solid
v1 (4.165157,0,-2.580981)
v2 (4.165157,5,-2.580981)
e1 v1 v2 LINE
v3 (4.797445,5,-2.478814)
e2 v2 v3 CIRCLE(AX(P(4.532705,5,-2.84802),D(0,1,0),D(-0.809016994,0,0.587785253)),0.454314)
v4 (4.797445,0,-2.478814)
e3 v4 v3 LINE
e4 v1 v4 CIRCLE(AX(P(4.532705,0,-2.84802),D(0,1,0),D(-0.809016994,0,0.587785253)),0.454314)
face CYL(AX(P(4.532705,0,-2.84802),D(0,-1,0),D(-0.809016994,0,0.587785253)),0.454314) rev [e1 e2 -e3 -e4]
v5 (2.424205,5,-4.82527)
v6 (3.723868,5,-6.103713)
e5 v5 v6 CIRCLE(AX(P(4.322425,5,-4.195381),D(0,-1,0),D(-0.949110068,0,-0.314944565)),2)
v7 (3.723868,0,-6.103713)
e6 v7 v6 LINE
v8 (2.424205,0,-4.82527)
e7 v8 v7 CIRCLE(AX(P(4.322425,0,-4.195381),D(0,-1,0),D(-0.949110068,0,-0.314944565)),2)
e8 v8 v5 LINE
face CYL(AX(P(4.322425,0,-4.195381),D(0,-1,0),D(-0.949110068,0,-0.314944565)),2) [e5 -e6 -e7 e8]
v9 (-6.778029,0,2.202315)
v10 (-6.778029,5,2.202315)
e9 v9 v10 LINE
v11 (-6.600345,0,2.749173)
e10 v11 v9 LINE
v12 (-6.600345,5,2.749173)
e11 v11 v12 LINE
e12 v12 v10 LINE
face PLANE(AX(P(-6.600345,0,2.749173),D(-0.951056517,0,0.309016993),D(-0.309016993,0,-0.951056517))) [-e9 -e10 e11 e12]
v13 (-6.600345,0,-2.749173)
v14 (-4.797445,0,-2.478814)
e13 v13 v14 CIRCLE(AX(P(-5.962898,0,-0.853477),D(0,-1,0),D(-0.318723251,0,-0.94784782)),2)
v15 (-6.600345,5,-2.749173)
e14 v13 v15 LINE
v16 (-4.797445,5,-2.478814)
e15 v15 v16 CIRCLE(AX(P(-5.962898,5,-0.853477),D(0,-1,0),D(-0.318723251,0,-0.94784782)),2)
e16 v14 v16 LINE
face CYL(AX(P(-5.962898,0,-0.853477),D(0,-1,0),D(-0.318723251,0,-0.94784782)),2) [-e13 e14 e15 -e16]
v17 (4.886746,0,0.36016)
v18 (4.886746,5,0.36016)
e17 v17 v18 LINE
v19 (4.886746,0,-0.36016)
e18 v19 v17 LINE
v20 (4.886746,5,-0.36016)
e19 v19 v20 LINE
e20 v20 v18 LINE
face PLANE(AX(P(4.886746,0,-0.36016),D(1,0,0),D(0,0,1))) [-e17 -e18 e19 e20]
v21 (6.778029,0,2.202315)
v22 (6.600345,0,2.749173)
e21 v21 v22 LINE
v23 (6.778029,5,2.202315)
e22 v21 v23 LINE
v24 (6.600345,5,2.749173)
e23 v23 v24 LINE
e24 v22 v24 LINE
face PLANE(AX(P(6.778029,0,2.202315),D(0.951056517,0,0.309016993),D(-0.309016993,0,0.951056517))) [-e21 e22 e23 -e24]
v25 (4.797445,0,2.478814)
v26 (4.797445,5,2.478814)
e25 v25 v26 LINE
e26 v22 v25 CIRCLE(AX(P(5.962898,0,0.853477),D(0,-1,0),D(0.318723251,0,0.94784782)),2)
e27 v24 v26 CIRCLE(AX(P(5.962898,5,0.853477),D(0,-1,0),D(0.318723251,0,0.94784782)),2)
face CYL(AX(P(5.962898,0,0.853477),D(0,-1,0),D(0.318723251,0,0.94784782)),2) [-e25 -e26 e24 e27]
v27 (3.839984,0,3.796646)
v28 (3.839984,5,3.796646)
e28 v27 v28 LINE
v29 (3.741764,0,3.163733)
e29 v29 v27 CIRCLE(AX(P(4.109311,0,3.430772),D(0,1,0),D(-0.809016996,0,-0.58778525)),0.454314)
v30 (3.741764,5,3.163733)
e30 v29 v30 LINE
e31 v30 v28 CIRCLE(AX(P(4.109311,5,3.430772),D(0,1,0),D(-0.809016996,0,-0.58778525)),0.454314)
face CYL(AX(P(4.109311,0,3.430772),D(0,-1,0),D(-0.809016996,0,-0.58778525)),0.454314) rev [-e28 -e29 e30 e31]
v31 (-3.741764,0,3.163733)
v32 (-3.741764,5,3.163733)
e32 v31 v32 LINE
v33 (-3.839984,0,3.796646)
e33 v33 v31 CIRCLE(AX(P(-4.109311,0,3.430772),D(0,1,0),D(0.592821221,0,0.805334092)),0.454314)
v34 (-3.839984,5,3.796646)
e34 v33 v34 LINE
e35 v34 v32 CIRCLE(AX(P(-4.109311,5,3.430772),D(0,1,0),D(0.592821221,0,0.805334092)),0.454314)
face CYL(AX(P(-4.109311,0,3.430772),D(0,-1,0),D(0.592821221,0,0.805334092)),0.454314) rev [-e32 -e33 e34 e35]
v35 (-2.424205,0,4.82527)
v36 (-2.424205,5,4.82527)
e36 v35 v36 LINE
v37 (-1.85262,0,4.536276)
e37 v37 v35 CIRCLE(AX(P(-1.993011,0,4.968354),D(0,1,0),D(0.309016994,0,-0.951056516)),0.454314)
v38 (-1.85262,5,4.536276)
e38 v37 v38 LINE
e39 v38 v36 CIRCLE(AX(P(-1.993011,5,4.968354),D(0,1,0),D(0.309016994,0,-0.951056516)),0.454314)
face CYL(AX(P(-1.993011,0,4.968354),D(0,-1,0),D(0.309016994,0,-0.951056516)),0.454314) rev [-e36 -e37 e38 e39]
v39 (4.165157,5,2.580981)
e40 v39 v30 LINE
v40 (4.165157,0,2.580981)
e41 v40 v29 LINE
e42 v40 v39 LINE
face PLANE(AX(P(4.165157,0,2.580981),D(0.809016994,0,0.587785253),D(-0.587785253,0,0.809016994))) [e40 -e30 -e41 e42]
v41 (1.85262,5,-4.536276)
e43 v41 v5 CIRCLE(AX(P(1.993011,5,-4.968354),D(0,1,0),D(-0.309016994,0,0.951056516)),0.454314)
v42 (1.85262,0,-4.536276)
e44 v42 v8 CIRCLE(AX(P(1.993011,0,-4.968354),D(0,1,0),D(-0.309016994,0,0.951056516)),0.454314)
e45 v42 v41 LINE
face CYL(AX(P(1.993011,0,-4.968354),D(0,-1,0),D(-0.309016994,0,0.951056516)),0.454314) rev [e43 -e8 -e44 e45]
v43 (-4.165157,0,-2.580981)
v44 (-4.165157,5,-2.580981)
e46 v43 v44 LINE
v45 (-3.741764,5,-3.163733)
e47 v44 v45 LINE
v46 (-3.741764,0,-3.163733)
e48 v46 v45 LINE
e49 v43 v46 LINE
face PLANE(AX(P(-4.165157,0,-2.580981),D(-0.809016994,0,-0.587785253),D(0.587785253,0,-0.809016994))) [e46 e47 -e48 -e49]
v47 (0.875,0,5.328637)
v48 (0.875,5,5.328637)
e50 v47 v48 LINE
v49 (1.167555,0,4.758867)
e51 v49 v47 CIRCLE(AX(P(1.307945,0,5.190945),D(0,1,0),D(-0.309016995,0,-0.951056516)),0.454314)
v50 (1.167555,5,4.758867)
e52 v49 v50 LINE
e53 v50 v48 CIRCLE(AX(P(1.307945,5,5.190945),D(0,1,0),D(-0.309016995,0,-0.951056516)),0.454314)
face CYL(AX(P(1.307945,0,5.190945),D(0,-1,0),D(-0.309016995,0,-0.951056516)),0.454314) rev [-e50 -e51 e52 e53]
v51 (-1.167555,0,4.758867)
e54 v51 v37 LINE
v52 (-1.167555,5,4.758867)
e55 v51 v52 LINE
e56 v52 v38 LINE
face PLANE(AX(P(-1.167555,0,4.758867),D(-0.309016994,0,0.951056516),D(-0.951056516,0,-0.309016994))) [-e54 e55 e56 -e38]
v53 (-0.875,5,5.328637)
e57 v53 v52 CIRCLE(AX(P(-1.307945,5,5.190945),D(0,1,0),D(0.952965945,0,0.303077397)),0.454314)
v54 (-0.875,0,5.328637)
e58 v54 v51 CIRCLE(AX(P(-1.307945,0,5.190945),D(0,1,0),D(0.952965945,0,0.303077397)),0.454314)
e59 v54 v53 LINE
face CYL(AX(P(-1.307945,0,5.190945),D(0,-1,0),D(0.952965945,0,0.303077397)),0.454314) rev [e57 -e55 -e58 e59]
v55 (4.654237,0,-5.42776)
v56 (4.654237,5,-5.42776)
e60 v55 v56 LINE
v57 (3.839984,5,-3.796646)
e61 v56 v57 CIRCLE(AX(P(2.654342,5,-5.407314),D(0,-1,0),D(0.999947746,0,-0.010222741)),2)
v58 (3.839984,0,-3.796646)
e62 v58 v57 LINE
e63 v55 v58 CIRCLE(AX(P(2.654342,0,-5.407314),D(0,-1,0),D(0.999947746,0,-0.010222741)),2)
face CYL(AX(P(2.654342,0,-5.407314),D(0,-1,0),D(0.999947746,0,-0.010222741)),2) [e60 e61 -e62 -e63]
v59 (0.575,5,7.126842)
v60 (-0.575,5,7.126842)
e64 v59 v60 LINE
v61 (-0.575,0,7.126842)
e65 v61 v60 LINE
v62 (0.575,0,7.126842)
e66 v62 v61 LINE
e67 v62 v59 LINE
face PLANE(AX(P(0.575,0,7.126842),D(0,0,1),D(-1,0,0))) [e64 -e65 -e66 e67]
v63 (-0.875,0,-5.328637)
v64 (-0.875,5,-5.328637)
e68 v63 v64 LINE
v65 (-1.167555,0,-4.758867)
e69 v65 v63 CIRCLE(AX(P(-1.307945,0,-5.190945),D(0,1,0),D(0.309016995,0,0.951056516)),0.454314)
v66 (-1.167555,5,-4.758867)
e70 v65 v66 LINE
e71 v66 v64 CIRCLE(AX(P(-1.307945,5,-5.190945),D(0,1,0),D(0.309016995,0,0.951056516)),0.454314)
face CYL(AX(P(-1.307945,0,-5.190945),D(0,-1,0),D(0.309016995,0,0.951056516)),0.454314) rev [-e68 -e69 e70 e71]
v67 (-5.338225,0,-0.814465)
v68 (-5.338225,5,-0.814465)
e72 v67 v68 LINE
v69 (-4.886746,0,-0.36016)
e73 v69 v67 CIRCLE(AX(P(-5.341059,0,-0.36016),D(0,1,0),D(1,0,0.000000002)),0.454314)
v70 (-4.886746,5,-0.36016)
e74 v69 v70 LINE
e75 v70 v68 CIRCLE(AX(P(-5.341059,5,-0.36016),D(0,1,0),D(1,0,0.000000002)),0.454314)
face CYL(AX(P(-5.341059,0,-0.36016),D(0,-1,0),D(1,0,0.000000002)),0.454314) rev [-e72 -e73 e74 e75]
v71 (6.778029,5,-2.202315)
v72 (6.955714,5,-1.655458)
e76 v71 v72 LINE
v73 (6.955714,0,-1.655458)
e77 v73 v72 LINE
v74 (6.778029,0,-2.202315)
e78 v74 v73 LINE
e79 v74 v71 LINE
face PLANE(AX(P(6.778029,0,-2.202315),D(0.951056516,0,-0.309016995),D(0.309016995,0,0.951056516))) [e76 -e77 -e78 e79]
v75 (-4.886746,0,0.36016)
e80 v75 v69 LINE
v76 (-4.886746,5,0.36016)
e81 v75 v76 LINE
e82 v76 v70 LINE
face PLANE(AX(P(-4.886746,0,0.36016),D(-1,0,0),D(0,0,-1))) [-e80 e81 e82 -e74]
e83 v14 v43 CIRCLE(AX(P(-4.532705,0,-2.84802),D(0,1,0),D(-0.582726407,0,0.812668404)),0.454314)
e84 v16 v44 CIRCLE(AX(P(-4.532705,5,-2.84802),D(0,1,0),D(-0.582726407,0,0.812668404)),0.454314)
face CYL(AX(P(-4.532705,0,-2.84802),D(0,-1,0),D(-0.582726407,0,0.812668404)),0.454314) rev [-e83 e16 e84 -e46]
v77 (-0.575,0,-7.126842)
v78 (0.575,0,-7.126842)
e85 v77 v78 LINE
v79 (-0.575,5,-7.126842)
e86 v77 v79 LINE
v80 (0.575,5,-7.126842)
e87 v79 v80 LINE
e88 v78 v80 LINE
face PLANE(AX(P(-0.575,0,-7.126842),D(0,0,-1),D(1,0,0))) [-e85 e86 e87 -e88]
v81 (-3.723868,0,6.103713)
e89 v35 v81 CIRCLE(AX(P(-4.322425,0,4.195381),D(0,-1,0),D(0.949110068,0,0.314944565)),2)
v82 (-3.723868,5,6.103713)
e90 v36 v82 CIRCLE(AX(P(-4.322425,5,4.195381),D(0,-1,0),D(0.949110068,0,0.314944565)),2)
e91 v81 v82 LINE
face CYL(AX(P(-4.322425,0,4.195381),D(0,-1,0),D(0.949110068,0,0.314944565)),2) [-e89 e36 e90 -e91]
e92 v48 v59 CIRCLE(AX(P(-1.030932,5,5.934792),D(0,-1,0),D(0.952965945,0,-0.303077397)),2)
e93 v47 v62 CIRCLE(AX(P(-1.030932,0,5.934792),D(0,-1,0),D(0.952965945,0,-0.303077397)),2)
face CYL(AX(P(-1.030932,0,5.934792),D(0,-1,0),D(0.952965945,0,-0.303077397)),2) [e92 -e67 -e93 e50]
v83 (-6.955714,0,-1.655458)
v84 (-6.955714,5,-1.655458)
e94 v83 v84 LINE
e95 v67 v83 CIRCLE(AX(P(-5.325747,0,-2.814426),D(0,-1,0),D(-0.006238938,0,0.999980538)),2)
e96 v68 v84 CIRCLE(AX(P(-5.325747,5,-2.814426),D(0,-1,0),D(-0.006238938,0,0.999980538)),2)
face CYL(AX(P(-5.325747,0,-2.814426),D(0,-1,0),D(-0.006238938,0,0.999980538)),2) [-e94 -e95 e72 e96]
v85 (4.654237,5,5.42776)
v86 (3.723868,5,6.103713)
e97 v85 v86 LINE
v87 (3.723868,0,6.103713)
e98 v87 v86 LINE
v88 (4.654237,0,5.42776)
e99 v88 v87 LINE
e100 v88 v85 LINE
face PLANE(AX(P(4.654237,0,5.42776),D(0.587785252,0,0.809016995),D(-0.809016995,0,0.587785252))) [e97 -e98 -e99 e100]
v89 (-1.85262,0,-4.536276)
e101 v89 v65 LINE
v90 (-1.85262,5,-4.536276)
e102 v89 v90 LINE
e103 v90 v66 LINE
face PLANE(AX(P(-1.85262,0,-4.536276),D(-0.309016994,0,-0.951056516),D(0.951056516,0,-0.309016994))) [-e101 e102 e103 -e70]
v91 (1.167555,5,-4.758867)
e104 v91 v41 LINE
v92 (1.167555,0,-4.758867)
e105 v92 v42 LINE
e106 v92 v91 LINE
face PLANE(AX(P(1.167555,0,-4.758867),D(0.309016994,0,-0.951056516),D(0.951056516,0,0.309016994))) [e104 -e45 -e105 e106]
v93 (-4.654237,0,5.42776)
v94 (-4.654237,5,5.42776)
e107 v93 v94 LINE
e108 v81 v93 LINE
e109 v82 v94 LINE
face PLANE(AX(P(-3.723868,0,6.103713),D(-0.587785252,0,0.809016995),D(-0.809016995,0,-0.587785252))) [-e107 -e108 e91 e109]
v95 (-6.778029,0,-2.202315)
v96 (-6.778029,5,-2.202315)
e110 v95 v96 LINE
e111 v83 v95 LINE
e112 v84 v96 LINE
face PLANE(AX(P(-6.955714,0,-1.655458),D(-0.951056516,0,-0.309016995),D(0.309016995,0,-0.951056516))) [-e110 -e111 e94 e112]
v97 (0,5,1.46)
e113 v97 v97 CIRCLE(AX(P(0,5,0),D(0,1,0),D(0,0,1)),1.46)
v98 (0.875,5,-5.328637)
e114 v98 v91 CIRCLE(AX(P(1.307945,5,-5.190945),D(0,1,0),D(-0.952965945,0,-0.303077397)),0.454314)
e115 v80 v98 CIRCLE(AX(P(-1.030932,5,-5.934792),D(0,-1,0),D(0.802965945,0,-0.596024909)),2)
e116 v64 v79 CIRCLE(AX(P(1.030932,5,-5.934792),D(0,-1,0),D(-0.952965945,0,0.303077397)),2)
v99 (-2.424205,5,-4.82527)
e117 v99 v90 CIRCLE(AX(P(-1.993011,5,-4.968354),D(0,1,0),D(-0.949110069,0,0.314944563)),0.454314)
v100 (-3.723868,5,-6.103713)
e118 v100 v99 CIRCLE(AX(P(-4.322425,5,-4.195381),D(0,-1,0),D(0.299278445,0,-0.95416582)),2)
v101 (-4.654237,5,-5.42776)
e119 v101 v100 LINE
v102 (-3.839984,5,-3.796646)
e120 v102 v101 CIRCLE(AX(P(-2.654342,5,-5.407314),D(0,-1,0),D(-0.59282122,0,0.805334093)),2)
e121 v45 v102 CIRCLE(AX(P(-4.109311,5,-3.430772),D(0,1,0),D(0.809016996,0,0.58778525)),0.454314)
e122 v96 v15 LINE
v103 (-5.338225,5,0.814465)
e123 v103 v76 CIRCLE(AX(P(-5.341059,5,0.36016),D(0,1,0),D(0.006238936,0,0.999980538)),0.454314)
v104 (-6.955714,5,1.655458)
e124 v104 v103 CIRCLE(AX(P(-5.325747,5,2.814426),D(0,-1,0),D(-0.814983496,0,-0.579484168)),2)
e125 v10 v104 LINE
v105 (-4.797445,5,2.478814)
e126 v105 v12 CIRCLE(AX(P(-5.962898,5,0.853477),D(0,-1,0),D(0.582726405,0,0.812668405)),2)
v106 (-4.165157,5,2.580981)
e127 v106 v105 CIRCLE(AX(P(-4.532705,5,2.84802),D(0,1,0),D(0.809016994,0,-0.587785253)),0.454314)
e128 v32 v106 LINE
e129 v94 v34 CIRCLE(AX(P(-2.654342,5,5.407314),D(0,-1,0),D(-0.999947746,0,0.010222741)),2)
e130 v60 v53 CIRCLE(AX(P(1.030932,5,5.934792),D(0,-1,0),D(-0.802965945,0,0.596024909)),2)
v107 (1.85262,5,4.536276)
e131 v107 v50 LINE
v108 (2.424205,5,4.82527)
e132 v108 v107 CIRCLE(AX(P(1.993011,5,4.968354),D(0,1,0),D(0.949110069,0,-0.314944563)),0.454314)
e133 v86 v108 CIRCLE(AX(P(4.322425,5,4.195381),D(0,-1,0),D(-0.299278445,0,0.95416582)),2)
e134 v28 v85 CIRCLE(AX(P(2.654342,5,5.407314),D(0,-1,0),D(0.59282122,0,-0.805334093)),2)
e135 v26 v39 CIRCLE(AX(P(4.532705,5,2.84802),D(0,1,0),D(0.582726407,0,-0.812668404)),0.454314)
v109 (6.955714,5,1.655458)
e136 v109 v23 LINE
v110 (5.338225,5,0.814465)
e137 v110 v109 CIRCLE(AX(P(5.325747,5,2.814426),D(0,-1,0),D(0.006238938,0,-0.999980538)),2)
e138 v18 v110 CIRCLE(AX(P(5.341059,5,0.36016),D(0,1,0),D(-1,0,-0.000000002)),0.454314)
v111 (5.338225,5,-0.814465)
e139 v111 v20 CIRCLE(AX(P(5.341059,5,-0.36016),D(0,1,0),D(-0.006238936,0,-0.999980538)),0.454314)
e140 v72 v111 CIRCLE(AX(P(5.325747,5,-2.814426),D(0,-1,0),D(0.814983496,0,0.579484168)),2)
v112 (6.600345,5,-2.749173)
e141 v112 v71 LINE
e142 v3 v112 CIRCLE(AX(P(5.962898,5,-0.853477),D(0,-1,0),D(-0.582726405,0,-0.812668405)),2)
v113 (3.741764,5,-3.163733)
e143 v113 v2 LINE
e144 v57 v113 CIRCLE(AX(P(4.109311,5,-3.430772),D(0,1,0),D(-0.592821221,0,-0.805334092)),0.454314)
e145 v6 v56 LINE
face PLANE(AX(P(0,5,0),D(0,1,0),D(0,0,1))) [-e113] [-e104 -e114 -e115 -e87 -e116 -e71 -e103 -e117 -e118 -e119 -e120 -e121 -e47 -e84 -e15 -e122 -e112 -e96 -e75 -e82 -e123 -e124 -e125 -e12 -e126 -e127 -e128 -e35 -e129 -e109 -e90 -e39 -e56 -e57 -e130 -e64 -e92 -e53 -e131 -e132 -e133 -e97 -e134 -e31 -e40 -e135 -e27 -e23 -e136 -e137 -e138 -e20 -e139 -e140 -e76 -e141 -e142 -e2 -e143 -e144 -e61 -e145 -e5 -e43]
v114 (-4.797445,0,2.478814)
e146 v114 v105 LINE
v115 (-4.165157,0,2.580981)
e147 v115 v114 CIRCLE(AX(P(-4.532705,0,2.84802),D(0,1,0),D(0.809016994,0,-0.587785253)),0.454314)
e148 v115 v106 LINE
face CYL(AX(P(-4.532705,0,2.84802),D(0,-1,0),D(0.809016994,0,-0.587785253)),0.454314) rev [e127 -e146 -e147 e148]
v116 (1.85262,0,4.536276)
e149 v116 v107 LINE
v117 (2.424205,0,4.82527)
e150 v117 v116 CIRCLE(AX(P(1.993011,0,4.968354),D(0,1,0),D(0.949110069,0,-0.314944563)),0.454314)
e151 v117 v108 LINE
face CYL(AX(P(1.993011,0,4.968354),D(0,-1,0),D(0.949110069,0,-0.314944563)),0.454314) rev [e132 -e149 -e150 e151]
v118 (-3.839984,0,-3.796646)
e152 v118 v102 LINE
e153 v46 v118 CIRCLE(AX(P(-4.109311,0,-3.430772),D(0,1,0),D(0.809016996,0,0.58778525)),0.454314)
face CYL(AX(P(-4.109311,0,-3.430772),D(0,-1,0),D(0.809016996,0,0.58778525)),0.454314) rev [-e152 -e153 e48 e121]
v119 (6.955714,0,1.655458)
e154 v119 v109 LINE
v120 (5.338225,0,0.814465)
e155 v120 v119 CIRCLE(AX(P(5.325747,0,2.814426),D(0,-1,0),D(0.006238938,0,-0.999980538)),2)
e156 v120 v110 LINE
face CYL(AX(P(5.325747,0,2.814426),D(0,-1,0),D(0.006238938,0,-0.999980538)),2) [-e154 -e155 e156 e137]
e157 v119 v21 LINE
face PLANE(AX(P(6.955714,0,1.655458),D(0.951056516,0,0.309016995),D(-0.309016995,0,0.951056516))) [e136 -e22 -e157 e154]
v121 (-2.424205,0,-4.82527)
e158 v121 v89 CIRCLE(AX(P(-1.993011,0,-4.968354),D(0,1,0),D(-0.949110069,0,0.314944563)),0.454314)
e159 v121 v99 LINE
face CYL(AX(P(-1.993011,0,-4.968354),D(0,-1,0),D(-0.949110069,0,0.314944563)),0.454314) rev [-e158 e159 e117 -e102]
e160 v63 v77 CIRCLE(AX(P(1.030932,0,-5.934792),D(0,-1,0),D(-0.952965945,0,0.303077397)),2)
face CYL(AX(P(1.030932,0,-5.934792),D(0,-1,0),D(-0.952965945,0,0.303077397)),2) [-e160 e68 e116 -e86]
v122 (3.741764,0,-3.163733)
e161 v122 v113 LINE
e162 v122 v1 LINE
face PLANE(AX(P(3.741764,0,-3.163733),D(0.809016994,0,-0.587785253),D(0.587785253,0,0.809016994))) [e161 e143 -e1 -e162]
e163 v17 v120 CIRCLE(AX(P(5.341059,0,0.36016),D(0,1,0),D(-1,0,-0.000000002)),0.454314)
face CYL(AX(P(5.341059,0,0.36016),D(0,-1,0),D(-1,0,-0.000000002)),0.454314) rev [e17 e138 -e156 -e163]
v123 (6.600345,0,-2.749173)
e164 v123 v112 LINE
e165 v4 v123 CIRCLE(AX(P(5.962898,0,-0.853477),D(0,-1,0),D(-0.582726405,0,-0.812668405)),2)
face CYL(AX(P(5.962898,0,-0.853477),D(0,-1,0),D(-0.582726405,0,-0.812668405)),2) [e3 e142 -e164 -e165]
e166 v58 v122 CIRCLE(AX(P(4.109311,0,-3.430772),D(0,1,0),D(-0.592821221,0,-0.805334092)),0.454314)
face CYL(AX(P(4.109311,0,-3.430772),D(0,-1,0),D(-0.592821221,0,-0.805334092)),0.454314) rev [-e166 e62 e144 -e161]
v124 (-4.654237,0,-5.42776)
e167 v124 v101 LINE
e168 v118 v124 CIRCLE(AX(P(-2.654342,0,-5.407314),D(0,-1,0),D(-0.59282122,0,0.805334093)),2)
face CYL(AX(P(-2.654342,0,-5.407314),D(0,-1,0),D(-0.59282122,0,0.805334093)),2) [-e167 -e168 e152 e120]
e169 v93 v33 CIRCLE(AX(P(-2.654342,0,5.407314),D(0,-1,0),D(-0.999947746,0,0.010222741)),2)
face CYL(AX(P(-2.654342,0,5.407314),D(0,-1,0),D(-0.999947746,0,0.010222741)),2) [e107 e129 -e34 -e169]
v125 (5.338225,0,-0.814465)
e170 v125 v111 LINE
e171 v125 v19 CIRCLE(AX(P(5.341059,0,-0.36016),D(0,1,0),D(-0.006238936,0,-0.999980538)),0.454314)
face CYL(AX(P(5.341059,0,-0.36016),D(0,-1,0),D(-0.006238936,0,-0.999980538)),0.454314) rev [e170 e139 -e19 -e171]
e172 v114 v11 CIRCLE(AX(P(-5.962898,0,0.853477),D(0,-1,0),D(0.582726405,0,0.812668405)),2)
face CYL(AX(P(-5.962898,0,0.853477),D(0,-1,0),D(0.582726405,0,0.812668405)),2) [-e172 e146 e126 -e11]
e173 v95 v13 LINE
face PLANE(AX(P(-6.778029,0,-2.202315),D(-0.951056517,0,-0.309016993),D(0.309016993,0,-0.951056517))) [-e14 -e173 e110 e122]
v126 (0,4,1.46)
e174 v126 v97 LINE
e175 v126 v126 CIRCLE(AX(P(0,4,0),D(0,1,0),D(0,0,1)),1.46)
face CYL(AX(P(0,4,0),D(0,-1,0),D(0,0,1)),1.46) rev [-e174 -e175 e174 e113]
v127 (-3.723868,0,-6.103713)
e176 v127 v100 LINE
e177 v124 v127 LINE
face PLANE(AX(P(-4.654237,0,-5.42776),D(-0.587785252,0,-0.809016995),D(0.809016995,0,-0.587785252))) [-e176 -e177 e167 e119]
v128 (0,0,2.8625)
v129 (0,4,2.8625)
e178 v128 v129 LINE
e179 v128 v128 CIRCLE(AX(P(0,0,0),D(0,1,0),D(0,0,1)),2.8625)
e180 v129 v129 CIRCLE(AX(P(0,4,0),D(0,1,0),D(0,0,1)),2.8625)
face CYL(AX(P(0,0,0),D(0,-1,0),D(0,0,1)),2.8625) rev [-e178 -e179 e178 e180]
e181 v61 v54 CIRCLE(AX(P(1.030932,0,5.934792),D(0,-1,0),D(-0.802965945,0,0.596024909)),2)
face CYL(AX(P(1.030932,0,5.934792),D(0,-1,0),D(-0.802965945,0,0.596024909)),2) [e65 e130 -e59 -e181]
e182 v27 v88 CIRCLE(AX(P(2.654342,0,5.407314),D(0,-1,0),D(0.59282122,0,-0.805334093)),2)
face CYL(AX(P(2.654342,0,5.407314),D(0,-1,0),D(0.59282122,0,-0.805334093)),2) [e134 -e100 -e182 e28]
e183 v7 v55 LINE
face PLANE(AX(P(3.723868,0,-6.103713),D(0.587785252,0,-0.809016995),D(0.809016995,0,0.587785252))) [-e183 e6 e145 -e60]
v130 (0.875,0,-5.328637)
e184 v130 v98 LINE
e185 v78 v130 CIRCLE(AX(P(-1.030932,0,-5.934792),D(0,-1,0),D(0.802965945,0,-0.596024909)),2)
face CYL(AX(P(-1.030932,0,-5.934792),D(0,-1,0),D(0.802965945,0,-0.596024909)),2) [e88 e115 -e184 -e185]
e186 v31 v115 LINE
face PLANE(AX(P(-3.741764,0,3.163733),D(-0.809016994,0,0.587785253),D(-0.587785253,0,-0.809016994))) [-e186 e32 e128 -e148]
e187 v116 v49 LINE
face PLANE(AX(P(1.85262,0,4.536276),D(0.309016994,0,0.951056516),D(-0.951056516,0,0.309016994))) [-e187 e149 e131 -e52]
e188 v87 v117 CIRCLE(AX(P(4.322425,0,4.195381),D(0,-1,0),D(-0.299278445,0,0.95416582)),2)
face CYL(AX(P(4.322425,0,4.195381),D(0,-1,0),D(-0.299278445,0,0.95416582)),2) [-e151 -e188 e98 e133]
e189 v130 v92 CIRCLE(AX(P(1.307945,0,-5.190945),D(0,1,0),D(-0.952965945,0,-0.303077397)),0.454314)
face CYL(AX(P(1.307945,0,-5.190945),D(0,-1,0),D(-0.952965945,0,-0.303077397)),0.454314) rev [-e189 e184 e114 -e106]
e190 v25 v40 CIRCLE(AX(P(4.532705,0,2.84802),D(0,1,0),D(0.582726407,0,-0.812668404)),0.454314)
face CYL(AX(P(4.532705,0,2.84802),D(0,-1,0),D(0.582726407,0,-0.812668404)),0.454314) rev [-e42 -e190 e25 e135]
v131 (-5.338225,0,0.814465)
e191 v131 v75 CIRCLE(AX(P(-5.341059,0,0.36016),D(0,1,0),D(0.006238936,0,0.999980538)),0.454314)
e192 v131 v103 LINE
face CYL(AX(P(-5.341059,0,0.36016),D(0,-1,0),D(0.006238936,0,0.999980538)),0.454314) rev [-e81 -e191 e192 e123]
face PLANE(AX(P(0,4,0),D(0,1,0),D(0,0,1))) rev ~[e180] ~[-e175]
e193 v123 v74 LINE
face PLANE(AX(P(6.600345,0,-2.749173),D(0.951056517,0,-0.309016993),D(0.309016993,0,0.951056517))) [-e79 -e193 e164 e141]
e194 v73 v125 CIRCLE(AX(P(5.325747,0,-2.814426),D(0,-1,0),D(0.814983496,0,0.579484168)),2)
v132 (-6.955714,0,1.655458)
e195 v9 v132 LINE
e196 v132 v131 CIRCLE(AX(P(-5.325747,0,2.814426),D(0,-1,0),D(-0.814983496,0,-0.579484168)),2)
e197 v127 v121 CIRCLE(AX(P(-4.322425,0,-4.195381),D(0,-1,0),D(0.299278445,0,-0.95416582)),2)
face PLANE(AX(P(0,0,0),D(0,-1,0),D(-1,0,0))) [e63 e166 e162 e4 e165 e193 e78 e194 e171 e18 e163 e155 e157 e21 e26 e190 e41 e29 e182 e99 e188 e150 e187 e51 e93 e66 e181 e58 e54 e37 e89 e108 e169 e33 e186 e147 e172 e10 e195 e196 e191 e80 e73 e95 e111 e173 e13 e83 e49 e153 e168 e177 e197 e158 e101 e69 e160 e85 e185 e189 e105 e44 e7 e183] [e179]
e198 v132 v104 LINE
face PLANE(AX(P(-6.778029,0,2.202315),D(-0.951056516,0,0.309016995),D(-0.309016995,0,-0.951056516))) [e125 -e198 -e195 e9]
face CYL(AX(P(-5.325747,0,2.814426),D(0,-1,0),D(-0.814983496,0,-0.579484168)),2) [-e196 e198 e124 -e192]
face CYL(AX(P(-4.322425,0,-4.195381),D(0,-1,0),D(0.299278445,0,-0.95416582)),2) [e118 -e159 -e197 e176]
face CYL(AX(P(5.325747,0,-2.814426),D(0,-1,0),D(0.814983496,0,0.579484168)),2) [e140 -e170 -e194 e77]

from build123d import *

# Parameters (mm, degrees)
SKETCH1_R           = 2.8625
BOSS_EXTRUDE1_DEPTH = 5
SKETCH2_R           = 2.8625
SKETCH2_R_2         = 1.46
BOSS_EXTRUDE2_DEPTH = 1


with BuildPart() as part:
    # Sketch1 → Boss-Extrude1 (new body)
    with BuildSketch(Plane(origin=(0, 0, 0), x_dir=(1, 0, 0), z_dir=(0, 1, 0))):
        with BuildLine():
            Line((-0.575, 7.126841867), (0, 7.126841867))
            Line((0, 7.126841867), (0.575, 7.126841867))
            ThreePointArc((0.575, 7.126841867), (0.941802699, 6.263909422), (0.875, 5.328637255))
            ThreePointArc((0.875, 5.328637255), (0.903794388, 4.983429203), (1.167554815, 4.758867066))
            Line((1.167554815, 4.758867066), (1.852620192, 4.536275832))
            ThreePointArc((1.852620192, 4.536275832), (2.198001172, 4.562915928), (2.424204523, 4.825270192))
            ThreePointArc((2.424204523, 4.825270192), (2.919899191, 5.62118691), (3.723867773, 6.103712707))
            Line((3.723867773, 6.103712707), (4.189052545, 5.765736187))
            Line((4.189052545, 5.765736187), (4.654237317, 5.427759667))
            ThreePointArc((4.654237317, 5.427759667), (4.443767969, 4.514031436), (3.839984264, 3.796646001))
            ThreePointArc((3.839984264, 3.796646001), (3.660371211, 3.500441903), (3.741763566, 3.163732829))
            Line((3.741763566, 3.163732829), (4.165157254, 2.580981412))
            ThreePointArc((4.165157254, 2.580981412), (4.460234992, 2.399523856), (4.797445315, 2.478813921))
            ThreePointArc((4.797445315, 2.478813921), (5.666298834, 2.831362057), (6.600344627, 2.74917275))
            Line((6.600344627, 2.74917275), (6.778029398, 2.202315253))
            Line((6.778029398, 2.202315253), (6.95571417, 1.655457756))
            ThreePointArc((6.95571417, 1.655457756), (6.248364912, 1.039946868), (5.338225055, 0.814465017))
            ThreePointArc((5.338225055, 0.814465017), (5.018810642, 0.680404772), (4.886745813, 0.360160182))
            Line((4.886745813, 0.360160182), (4.886745813, -0.360160182))
            ThreePointArc((4.886745813, -0.360160182), (5.018810642, -0.680404772), (5.338225055, -0.814465017))
            ThreePointArc((5.338225055, -0.814465017), (6.248364912, -1.039946868), (6.95571417, -1.655457756))
            Line((6.95571417, -1.655457756), (6.778029398, -2.202315253))
            Line((6.778029398, -2.202315253), (6.600344627, -2.74917275))
            ThreePointArc((6.600344627, -2.74917275), (5.666298834, -2.831362057), (4.797445315, -2.478813921))
            ThreePointArc((4.797445315, -2.478813921), (4.460234992, -2.399523856), (4.165157254, -2.580981412))
            Line((4.165157254, -2.580981412), (3.741763566, -3.163732829))
            ThreePointArc((3.741763566, -3.163732829), (3.660371211, -3.500441903), (3.839984264, -3.796646001))
            ThreePointArc((3.839984264, -3.796646001), (4.443767969, -4.514031436), (4.654237317, -5.427759667))
            Line((4.654237317, -5.427759667), (4.189052545, -5.765736187))
            Line((4.189052545, -5.765736187), (3.723867773, -6.103712707))
            ThreePointArc((3.723867773, -6.103712707), (2.919899191, -5.62118691), (2.424204523, -4.825270192))
            ThreePointArc((2.424204523, -4.825270192), (2.198001172, -4.562915928), (1.852620192, -4.536275832))
            Line((1.852620192, -4.536275832), (1.167554815, -4.758867066))
            ThreePointArc((1.167554815, -4.758867066), (0.903794388, -4.983429203), (0.875, -5.328637255))
            ThreePointArc((0.875, -5.328637255), (0.941802699, -6.263909422), (0.575, -7.126841867))
            Line((0.575, -7.126841867), (0, -7.126841867))
            Line((0, -7.126841867), (-0.575, -7.126841867))
            ThreePointArc((-0.575, -7.126841867), (-0.941802699, -6.263909422), (-0.875, -5.328637255))
            ThreePointArc((-0.875, -5.328637255), (-0.903794388, -4.983429203), (-1.167554815, -4.758867066))
            Line((-1.167554815, -4.758867066), (-1.852620192, -4.536275832))
            ThreePointArc((-1.852620192, -4.536275832), (-2.198001172, -4.562915928), (-2.424204523, -4.825270192))
            ThreePointArc((-2.424204523, -4.825270192), (-2.919899191, -5.62118691), (-3.723867773, -6.103712707))
            Line((-3.723867773, -6.103712707), (-4.189052545, -5.765736187))
            Line((-4.189052545, -5.765736187), (-4.654237317, -5.427759667))
            ThreePointArc((-4.654237317, -5.427759667), (-4.443767969, -4.514031436), (-3.839984264, -3.796646001))
            ThreePointArc((-3.839984264, -3.796646001), (-3.660371211, -3.500441903), (-3.741763566, -3.163732829))
            Line((-3.741763566, -3.163732829), (-4.165157254, -2.580981412))
            ThreePointArc((-4.165157254, -2.580981412), (-4.460234992, -2.399523856), (-4.797445315, -2.478813921))
            ThreePointArc((-4.797445315, -2.478813921), (-5.666298834, -2.831362057), (-6.600344627, -2.74917275))
            Line((-6.600344627, -2.74917275), (-6.778029398, -2.202315253))
            Line((-6.778029398, -2.202315253), (-6.95571417, -1.655457756))
            ThreePointArc((-6.95571417, -1.655457756), (-6.248364912, -1.039946868), (-5.338225055, -0.814465017))
            ThreePointArc((-5.338225055, -0.814465017), (-5.018810642, -0.680404772), (-4.886745813, -0.360160182))
            Line((-4.886745813, -0.360160182), (-4.886745813, 0.360160182))
            ThreePointArc((-4.886745813, 0.360160182), (-5.018810642, 0.680404772), (-5.338225055, 0.814465017))
            ThreePointArc((-5.338225055, 0.814465017), (-6.248364912, 1.039946868), (-6.95571417, 1.655457756))
            Line((-6.95571417, 1.655457756), (-6.778029398, 2.202315253))
            Line((-6.778029398, 2.202315253), (-6.600344627, 2.74917275))
            ThreePointArc((-6.600344627, 2.74917275), (-5.666298834, 2.831362057), (-4.797445315, 2.478813921))
            ThreePointArc((-4.797445315, 2.478813921), (-4.460234992, 2.399523856), (-4.165157254, 2.580981412))
            Line((-4.165157254, 2.580981412), (-3.741763566, 3.163732829))
            ThreePointArc((-3.741763566, 3.163732829), (-3.660371211, 3.500441903), (-3.839984264, 3.796646001))
            ThreePointArc((-3.839984264, 3.796646001), (-4.443767969, 4.514031436), (-4.654237317, 5.427759667))
            Line((-4.654237317, 5.427759667), (-4.189052545, 5.765736187))
            Line((-4.189052545, 5.765736187), (-3.723867773, 6.103712707))
            ThreePointArc((-3.723867773, 6.103712707), (-2.919899191, 5.62118691), (-2.424204523, 4.825270192))
            ThreePointArc((-2.424204523, 4.825270192), (-2.198001172, 4.562915928), (-1.852620192, 4.536275832))
            Line((-1.852620192, 4.536275832), (-1.167554815, 4.758867066))
            ThreePointArc((-1.167554815, 4.758867066), (-0.903794388, 4.983429203), (-0.875, 5.328637255))
            ThreePointArc((-0.875, 5.328637255), (-0.941802699, 6.263909422), (-0.575, 7.126841867))
        make_face()
        with Locations(Location((0, 0, 0), (0, 0, 270))):
            Circle(SKETCH1_R, mode=Mode.SUBTRACT)
    extrude(amount=BOSS_EXTRUDE1_DEPTH)

    # Sketch2 → Boss-Extrude2 (add)
    with BuildSketch(Plane(origin=(0, 4, 0), x_dir=(1, 0, 0), z_dir=(0, 1, 0))):
        with Locations(Location((0, 0, 0), (0, 0, 270))):
            Circle(SKETCH2_R)
        with Locations(Location((0, 0, 0), (0, 0, 270))):
            Circle(SKETCH2_R_2, mode=Mode.SUBTRACT)
    extrude(amount=BOSS_EXTRUDE2_DEPTH)


solid = part.part
